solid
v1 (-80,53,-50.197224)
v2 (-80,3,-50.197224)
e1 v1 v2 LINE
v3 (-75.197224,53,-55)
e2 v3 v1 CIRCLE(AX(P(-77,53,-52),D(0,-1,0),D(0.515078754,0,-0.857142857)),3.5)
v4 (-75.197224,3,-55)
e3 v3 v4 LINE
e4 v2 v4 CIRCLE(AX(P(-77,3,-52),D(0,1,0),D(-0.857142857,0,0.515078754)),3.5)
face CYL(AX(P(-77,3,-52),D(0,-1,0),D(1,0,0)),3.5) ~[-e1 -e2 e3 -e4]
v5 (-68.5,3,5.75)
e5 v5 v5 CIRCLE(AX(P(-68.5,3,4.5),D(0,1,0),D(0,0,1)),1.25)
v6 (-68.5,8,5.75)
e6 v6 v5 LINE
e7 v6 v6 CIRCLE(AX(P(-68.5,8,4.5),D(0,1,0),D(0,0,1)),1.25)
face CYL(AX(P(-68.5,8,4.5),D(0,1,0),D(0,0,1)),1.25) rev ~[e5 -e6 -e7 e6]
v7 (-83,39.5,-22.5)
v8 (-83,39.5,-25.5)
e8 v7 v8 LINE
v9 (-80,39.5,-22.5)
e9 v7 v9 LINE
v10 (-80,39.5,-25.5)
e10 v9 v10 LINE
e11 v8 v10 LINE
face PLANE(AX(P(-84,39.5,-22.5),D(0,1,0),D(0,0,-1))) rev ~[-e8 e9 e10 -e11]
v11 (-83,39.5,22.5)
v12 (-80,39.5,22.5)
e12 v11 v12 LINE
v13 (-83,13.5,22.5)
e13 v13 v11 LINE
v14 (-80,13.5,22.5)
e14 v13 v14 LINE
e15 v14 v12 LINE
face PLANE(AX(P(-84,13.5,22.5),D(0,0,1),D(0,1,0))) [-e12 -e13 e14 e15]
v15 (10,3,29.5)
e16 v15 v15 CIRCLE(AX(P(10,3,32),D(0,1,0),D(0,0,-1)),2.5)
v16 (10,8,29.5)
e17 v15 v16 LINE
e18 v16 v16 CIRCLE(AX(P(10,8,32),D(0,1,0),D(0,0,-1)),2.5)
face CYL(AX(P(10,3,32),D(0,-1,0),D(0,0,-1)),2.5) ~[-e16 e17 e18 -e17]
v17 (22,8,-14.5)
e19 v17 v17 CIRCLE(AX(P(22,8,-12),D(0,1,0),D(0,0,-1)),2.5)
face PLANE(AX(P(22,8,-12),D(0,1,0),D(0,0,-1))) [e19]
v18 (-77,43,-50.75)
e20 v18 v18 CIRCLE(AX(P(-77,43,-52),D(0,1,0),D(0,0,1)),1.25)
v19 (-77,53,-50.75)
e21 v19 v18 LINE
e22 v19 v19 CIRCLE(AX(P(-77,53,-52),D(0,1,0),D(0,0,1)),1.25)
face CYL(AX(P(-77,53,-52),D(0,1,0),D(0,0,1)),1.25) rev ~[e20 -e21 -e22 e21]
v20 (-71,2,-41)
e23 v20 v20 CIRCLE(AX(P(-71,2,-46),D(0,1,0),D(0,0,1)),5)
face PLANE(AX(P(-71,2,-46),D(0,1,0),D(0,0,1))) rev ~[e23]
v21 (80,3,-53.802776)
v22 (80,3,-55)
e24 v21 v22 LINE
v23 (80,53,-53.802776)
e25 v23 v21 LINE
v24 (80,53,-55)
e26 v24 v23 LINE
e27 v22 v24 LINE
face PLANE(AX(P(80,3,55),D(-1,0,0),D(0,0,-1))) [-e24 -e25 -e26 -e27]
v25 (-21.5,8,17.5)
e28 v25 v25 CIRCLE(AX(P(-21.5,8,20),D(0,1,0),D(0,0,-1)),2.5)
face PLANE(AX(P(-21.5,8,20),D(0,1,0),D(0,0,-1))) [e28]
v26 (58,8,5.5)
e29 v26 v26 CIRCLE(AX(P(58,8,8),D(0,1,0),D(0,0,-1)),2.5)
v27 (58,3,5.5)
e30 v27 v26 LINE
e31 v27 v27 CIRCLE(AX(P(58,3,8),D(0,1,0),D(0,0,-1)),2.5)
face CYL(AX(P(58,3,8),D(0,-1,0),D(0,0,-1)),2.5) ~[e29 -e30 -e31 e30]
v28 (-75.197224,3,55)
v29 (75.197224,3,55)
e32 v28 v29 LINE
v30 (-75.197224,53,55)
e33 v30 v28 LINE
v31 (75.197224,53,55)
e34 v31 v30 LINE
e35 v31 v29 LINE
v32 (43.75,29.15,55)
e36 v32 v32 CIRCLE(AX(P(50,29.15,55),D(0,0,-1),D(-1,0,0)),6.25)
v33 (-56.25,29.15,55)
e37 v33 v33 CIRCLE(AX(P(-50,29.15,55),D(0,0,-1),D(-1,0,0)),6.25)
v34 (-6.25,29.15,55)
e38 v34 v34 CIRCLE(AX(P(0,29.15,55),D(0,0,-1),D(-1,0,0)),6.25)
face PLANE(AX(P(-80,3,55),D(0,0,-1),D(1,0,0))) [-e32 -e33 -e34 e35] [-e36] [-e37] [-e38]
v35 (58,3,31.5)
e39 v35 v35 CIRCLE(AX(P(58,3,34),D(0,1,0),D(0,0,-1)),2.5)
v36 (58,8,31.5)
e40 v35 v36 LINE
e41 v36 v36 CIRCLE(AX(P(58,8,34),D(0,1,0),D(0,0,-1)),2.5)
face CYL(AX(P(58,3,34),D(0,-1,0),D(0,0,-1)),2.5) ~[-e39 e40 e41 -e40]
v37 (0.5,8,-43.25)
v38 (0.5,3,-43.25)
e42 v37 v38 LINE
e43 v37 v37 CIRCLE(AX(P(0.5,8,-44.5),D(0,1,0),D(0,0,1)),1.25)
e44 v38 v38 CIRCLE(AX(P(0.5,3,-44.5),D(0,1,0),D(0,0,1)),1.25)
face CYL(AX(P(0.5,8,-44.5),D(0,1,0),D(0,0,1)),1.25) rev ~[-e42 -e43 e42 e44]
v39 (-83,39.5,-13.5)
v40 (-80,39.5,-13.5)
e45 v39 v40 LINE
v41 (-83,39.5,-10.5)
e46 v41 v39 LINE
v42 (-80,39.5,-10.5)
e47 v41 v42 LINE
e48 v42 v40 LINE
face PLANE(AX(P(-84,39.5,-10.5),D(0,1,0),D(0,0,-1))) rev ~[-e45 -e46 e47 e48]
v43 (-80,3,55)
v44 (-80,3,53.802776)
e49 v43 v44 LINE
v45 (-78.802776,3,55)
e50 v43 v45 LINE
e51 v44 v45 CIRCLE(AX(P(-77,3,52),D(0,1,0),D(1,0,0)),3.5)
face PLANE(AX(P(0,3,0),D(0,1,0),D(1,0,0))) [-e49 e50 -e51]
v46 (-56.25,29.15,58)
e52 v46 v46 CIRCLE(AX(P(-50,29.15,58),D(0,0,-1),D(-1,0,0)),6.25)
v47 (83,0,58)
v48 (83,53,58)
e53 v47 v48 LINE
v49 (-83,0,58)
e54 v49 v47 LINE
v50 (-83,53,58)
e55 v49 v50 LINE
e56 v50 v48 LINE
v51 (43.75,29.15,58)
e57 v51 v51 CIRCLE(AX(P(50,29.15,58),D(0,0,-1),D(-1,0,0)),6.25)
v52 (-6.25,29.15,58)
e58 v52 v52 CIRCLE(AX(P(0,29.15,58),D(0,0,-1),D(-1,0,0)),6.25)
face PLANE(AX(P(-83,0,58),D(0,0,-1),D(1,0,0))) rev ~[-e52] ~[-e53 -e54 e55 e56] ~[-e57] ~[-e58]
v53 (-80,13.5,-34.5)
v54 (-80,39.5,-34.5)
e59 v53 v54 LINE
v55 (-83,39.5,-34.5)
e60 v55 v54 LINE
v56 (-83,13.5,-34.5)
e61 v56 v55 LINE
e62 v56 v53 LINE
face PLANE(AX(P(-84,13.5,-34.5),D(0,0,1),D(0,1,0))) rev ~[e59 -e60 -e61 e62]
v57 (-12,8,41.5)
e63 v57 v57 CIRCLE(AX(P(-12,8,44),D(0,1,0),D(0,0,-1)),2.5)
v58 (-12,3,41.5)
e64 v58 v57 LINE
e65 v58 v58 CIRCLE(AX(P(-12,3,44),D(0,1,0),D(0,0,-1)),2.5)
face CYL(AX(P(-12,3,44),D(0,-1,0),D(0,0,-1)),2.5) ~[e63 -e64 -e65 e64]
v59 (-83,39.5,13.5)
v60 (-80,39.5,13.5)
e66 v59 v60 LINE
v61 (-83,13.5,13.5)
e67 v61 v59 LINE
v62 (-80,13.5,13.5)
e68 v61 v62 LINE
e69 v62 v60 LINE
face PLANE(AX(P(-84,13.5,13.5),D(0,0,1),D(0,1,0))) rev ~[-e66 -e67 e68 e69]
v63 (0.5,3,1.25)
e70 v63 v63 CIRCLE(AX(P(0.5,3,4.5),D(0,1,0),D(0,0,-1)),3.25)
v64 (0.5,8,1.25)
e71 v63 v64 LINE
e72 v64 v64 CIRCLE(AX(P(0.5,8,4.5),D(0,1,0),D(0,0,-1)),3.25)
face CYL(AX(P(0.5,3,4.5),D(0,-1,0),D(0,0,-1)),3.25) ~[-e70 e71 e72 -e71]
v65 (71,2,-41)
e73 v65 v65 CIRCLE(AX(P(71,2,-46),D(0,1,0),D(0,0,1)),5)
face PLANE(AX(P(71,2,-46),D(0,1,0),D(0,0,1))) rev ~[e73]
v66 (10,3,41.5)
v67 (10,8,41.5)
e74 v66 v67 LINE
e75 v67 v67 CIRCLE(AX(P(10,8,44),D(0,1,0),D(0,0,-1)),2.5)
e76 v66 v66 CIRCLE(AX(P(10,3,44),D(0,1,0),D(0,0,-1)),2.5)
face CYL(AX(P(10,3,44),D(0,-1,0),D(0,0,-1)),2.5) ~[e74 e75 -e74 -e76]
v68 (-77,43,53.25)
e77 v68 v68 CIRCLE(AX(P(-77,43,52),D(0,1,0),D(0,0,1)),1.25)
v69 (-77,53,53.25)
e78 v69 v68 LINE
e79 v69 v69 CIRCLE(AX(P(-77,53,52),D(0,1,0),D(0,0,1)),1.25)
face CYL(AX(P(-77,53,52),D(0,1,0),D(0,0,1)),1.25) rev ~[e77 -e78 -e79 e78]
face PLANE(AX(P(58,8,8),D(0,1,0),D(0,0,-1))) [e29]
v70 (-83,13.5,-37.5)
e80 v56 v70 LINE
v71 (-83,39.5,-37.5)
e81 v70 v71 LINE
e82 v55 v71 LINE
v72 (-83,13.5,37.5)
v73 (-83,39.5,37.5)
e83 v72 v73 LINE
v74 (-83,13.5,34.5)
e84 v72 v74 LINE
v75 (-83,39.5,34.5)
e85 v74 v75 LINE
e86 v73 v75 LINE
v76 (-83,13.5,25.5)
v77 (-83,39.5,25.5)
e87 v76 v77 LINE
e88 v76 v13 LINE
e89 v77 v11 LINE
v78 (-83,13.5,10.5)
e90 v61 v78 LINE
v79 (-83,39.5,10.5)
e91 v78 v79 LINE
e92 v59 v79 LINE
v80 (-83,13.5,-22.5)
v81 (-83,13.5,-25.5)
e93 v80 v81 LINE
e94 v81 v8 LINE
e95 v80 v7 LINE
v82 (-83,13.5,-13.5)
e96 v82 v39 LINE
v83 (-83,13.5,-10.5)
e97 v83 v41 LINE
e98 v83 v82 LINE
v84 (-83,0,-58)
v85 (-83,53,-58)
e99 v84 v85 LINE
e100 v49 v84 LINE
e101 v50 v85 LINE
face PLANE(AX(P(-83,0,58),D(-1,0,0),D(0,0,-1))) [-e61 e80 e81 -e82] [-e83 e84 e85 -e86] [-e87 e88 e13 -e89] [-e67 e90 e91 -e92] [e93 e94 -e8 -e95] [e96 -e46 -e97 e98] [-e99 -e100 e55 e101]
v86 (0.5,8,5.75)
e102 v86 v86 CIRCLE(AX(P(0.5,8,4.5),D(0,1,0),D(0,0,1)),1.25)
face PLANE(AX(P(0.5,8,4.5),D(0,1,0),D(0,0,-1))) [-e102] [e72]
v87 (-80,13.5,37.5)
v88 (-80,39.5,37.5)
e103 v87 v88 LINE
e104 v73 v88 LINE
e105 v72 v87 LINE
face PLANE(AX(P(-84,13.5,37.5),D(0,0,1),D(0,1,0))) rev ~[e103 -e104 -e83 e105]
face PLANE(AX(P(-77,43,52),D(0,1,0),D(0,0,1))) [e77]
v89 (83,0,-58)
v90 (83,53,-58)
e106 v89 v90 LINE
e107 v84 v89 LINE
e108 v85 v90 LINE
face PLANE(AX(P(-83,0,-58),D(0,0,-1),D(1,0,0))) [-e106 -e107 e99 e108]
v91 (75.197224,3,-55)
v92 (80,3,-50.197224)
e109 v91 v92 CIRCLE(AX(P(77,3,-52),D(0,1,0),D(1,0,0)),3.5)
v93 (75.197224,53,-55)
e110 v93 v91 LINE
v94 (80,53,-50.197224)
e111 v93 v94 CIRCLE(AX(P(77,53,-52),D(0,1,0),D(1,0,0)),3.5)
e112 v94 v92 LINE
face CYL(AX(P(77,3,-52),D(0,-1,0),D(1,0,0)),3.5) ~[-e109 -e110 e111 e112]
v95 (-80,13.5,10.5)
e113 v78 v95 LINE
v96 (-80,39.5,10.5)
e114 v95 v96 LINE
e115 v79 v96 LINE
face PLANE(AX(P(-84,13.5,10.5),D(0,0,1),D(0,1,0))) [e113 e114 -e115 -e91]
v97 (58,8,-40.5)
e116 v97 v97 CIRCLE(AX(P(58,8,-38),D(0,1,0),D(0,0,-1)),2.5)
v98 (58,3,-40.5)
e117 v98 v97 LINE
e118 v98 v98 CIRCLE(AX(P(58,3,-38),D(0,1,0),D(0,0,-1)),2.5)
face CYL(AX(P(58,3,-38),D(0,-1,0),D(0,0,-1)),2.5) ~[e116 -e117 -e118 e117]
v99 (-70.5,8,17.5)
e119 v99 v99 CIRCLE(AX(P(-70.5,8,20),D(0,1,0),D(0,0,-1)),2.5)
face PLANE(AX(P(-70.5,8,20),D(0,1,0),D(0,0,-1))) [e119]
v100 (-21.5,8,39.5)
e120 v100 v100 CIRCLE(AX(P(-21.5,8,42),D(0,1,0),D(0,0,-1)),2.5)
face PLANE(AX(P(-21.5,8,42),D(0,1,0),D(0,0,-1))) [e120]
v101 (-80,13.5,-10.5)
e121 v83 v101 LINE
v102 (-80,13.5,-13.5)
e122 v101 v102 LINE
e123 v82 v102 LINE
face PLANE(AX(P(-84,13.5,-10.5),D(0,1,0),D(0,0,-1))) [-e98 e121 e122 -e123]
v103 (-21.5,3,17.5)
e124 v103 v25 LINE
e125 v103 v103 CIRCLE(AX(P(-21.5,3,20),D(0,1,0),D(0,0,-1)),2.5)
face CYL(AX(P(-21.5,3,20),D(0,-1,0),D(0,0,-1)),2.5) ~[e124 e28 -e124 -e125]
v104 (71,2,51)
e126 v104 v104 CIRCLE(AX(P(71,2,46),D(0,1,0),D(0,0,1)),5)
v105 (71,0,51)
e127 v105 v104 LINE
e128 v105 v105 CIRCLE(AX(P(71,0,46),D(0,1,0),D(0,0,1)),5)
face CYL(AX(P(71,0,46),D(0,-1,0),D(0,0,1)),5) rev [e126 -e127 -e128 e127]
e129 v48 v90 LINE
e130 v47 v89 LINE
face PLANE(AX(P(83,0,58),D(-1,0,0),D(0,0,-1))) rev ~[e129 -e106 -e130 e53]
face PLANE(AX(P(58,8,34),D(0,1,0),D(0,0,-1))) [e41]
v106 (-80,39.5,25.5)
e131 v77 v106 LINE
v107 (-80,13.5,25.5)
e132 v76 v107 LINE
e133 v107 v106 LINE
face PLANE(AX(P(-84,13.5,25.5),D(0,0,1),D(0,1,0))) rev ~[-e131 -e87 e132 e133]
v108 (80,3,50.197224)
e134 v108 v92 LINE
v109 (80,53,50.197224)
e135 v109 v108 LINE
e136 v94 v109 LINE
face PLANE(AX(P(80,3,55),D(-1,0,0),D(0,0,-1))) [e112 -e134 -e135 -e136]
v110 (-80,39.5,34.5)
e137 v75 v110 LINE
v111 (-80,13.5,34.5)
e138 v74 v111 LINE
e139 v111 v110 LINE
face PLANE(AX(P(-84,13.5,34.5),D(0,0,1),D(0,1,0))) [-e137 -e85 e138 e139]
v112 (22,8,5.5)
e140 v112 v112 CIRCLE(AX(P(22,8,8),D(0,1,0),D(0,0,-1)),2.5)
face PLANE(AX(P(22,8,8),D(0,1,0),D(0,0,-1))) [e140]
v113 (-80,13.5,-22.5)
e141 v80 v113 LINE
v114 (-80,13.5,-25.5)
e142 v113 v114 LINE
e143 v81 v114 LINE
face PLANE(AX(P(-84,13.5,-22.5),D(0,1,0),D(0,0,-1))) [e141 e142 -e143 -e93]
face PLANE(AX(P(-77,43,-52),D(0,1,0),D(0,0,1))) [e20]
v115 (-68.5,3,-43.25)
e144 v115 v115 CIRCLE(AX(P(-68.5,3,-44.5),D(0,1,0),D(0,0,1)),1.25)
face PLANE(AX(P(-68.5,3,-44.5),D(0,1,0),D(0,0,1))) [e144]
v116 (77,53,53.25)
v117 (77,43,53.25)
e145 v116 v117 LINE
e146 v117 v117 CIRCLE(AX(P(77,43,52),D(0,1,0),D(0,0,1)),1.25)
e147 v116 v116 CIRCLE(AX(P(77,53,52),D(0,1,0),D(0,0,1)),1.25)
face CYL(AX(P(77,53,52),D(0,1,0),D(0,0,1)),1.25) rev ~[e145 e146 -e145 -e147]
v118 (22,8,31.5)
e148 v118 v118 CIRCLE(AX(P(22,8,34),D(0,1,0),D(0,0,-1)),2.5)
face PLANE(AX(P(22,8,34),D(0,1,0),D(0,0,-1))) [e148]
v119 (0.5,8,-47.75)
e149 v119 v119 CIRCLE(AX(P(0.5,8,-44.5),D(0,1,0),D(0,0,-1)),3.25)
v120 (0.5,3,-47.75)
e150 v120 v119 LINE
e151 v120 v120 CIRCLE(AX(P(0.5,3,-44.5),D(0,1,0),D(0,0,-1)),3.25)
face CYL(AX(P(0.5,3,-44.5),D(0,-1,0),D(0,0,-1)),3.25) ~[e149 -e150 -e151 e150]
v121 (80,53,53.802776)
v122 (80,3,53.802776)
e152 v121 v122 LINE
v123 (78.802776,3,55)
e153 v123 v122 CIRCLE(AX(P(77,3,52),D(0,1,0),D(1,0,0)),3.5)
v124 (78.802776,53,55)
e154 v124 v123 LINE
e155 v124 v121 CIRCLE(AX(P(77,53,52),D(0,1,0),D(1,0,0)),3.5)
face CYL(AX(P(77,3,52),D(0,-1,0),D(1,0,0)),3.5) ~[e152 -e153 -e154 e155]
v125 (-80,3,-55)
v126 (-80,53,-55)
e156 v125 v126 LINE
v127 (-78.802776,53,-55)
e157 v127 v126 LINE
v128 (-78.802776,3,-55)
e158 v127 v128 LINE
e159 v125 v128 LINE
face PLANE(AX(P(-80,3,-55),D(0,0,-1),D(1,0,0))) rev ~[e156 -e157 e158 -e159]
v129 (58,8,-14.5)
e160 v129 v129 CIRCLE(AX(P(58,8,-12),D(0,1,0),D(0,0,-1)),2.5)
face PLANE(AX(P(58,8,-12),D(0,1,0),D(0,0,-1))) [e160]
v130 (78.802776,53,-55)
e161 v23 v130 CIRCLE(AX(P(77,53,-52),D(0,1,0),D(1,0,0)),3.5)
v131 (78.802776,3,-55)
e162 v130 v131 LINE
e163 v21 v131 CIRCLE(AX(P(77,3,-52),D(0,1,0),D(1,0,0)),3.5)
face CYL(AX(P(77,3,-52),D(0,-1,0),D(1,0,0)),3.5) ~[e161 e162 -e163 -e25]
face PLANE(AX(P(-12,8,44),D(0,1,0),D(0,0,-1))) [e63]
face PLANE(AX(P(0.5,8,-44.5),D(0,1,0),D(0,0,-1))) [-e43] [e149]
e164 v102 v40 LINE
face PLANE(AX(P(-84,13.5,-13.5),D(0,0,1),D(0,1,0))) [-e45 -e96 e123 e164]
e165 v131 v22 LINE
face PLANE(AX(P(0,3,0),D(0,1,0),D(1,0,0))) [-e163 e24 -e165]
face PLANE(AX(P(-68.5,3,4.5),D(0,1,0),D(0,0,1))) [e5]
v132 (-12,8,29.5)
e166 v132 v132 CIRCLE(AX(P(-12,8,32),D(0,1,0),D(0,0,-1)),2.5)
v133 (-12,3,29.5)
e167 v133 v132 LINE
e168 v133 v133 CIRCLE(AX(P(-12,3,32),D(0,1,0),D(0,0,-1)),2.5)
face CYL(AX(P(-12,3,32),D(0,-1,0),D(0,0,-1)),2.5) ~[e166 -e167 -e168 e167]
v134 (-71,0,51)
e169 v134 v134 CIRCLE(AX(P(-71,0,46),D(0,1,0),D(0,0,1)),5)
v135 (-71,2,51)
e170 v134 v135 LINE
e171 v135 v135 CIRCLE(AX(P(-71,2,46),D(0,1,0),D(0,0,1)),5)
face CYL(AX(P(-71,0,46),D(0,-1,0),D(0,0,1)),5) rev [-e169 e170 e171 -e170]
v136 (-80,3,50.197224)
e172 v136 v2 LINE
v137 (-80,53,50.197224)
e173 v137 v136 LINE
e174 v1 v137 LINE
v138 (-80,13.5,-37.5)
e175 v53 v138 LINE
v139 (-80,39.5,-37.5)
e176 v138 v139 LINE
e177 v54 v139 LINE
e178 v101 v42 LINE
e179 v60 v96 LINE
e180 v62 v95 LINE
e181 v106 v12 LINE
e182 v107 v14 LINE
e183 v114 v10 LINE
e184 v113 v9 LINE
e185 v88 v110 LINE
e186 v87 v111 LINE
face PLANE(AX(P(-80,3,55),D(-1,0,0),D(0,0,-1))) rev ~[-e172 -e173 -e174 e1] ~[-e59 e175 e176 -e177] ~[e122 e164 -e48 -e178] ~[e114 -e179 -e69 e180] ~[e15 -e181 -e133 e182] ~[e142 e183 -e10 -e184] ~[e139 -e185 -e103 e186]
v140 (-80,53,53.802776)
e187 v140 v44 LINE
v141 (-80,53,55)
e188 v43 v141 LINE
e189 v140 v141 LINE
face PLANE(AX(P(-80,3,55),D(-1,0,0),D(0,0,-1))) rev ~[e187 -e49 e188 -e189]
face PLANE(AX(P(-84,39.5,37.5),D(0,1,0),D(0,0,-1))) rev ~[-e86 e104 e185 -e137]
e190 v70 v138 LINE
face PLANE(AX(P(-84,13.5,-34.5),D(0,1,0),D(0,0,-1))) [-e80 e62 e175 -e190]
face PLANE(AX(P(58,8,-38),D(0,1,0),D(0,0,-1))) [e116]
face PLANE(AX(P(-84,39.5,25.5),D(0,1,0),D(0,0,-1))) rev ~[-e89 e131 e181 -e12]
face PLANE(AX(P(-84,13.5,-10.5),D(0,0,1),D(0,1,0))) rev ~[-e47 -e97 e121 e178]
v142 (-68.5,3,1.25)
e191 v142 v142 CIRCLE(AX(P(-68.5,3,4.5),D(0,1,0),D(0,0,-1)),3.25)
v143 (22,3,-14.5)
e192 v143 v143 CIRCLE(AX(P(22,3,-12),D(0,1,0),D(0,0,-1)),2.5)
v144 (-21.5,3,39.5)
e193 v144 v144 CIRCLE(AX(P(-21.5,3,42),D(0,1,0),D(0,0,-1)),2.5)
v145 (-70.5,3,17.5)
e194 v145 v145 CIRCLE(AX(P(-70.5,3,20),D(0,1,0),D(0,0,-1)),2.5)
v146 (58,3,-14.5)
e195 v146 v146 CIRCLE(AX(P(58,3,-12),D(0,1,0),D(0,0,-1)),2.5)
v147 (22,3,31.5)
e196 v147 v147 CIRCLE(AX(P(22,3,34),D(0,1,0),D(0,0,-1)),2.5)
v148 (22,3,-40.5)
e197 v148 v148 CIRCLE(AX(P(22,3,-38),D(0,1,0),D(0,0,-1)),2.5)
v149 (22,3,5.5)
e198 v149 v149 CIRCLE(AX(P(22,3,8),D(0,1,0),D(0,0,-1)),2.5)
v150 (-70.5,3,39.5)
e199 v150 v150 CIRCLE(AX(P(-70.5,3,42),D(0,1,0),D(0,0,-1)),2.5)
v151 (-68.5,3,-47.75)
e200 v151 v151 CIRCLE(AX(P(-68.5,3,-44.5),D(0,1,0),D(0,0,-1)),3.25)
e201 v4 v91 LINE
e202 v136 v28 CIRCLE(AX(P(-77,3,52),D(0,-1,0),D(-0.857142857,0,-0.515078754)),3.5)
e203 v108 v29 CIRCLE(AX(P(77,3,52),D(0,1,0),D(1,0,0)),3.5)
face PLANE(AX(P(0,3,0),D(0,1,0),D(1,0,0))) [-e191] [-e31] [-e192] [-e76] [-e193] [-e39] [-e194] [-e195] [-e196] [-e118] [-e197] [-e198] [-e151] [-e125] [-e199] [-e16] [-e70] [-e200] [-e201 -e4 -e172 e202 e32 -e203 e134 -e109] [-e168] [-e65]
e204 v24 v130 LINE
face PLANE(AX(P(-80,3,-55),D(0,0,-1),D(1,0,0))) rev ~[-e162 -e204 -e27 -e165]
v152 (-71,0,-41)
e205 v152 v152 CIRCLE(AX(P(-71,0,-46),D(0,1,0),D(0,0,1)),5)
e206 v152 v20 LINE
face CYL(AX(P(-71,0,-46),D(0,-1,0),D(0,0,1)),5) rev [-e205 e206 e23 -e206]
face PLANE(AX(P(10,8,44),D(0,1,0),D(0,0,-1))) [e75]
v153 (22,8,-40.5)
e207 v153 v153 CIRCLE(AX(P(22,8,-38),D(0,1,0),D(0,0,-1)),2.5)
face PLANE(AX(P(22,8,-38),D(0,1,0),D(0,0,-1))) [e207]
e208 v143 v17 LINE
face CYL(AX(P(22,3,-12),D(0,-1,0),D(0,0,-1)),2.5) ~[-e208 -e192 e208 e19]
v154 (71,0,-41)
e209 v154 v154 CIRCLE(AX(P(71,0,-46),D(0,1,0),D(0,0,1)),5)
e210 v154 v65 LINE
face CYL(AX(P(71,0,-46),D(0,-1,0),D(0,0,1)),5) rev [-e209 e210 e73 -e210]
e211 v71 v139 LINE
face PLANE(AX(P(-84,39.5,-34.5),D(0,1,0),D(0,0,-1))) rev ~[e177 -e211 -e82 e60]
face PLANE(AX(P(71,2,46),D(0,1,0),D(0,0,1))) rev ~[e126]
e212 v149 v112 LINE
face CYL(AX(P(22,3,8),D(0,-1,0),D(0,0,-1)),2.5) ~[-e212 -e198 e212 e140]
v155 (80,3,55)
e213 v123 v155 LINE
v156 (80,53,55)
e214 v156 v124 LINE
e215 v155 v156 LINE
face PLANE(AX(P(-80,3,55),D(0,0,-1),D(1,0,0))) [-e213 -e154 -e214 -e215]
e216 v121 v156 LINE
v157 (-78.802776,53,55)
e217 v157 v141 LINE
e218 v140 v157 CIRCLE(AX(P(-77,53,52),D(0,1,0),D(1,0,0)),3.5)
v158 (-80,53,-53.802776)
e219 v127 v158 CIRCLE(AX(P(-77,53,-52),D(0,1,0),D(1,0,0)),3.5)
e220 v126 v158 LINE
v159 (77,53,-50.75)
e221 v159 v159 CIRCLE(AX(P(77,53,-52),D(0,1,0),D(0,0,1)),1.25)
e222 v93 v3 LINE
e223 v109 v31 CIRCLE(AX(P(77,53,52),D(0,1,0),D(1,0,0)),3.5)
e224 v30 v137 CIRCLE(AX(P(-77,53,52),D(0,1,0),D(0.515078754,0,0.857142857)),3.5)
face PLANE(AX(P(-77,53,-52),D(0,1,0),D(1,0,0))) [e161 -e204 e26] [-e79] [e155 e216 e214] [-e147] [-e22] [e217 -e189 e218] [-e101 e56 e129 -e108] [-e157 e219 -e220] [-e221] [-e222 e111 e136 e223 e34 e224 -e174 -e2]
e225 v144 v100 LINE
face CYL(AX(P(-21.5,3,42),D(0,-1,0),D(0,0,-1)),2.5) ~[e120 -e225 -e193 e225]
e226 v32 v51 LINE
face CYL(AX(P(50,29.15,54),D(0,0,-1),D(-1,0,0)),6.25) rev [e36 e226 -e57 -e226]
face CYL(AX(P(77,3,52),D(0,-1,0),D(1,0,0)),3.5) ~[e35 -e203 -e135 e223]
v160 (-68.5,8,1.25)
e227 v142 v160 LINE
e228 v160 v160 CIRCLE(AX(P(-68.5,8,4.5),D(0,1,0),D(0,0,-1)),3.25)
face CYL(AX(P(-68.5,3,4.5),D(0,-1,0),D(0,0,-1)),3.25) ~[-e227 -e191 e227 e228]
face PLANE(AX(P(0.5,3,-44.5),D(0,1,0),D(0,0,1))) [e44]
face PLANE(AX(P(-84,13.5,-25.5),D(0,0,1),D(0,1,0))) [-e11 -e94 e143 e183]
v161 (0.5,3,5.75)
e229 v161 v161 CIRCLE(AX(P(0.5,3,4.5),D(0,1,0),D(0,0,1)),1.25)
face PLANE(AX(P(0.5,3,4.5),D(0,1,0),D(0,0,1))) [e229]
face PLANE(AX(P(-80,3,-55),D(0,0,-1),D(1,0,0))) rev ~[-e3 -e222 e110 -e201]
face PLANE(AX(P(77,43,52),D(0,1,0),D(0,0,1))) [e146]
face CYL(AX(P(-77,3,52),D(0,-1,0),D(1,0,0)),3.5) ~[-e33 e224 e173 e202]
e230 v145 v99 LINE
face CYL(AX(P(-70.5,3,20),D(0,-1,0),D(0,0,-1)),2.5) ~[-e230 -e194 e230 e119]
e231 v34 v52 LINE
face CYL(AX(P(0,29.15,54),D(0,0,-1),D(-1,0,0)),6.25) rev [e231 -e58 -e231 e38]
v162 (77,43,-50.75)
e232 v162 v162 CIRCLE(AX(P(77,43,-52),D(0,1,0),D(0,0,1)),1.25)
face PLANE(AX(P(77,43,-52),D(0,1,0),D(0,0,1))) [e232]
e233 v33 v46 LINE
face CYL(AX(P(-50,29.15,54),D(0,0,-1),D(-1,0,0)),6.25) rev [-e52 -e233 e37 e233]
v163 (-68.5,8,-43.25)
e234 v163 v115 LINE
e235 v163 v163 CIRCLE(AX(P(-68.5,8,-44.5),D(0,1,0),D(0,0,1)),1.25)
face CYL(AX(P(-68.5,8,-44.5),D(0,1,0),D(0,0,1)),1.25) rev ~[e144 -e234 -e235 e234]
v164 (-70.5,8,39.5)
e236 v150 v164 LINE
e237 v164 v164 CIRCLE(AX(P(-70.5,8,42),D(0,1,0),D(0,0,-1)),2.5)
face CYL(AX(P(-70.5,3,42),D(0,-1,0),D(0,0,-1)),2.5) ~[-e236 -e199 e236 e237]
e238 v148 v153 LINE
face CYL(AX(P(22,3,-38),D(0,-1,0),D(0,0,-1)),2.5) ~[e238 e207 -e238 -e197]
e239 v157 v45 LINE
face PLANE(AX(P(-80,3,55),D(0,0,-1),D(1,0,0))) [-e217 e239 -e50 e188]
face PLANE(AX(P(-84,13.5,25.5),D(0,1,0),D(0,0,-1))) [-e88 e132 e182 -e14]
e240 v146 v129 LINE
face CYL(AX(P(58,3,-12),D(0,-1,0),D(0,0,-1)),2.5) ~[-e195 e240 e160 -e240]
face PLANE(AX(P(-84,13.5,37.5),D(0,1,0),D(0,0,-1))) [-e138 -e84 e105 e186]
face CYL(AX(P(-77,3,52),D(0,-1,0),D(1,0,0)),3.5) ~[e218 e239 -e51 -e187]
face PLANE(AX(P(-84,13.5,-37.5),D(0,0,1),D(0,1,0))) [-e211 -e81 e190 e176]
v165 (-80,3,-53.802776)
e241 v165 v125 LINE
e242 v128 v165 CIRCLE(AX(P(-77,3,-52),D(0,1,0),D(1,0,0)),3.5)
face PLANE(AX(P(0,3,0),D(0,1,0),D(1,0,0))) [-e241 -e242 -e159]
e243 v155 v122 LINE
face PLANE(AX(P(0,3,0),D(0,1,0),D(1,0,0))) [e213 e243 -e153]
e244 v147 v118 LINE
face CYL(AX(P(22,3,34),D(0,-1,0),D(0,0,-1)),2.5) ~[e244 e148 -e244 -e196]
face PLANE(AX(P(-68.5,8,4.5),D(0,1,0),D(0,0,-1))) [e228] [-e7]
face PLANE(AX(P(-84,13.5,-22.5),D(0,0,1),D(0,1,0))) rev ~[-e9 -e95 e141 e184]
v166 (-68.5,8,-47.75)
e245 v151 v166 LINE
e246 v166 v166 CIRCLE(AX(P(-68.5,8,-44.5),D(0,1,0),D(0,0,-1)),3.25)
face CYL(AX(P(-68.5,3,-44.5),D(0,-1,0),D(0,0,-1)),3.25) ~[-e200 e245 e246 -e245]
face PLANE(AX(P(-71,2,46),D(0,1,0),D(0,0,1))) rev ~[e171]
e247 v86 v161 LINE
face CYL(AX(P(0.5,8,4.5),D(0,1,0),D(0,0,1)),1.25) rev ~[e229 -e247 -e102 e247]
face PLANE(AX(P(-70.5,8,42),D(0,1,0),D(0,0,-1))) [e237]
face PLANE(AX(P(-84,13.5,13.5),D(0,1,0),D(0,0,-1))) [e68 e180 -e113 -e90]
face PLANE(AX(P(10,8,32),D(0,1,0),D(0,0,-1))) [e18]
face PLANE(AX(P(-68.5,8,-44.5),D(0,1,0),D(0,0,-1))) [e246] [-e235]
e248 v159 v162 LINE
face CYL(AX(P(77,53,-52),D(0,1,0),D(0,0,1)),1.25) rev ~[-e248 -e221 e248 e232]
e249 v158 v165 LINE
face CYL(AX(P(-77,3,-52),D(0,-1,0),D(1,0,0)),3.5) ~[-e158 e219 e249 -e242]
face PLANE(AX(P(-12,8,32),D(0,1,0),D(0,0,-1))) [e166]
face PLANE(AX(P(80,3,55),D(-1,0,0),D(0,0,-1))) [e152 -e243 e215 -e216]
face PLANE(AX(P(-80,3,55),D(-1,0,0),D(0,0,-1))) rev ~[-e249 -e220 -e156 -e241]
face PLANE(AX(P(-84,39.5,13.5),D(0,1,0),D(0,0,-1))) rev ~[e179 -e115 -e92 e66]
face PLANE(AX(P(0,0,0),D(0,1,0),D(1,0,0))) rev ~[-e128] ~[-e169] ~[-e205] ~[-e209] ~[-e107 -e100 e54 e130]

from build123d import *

# Parameters (mm, degrees)
SKETCH1_W               = 166
SKETCH1_H               = 116
BOX_SOLID_DEPTH         = 53
BOX_CAVITY_START        = 3
SKETCH2_W               = 160
SKETCH2_H               = 110
BOX_CAVITY_DEPTH        = 53
LID_SCREW_COLUMNS_START = 3
SKETCH3_R               = 3.5
LID_SCREW_COLUMNS_DEPTH = 50
LID_SCREW_HOLES_START   = 53
SKETCH4_R               = 1.25
LID_SCREW_HOLES_DEPTH   = 10
RELAY_BOSSES_START      = 3
SKETCH5_R               = 3.25
RELAY_BOSSES_DEPTH      = 5
RELAY_BOSS_HOLES_START  = 8
SKETCH6_R               = 1.25
RELAY_BOSS_HOLES_DEPTH  = 5
BOARD_PADS_START        = 3
SKETCH7_R               = 2.5
BOARD_PADS_DEPTH        = 5
CABLE_GLAND_HOLES_START = 54
SKETCH8_R               = 6.25
CABLE_GLAND_HOLES_DEPTH = 5
VENT_SLOTS_START        = -84
SKETCH9_W               = 3
SKETCH9_H               = 26
VENT_SLOTS_DEPTH        = 5
SKETCH10_R              = 5
LEG_SOCKETS_DEPTH       = 2


with BuildPart() as part:
    # Sketch1 → Box_Solid (new body)
    with BuildSketch(Plane(origin=(0, 0, 0), x_dir=(1, 0, 0), z_dir=(0, 1, 0))):
        Rectangle(SKETCH1_W, SKETCH1_H)
    extrude(amount=BOX_SOLID_DEPTH)

    # Sketch2 → Box_Cavity (cut)
    with BuildSketch(Plane(origin=(0, 0, 0), x_dir=(1, 0, 0), z_dir=(0, 1, 0)).offset(BOX_CAVITY_START)):
        Rectangle(SKETCH2_W, SKETCH2_H)
    extrude(amount=BOX_CAVITY_DEPTH, mode=Mode.SUBTRACT)

    # Sketch3 → Lid_Screw_Columns (add)
    with BuildSketch(Plane(origin=(0, 0, 0), x_dir=(1, 0, 0), z_dir=(0, 1, 0)).offset(LID_SCREW_COLUMNS_START)):
        with Locations((-77, 52)):
            Circle(SKETCH3_R)
        with Locations((-77, -52)):
            Circle(SKETCH3_R)
        with Locations((77, 52)):
            Circle(SKETCH3_R)
        with Locations((77, -52)):
            Circle(SKETCH3_R)
    extrude(amount=LID_SCREW_COLUMNS_DEPTH)

    # Sketch4 → Lid_Screw_Holes (cut)
    with BuildSketch(Plane(origin=(0, 0, 0), x_dir=(1, 0, 0), z_dir=(0, 1, 0)).offset(LID_SCREW_HOLES_START)):
        with Locations(Location((-77, 52, 0), (0, 0, 270))):
            Circle(SKETCH4_R)
        with Locations(Location((-77, -52, 0), (0, 0, 270))):
            Circle(SKETCH4_R)
        with Locations(Location((77, 52, 0), (0, 0, 270))):
            Circle(SKETCH4_R)
        with Locations(Location((77, -52, 0), (0, 0, 270))):
            Circle(SKETCH4_R)
    extrude(amount=-LID_SCREW_HOLES_DEPTH, mode=Mode.SUBTRACT)

    # Sketch5 → Relay_Bosses (add)
    with BuildSketch(Plane(origin=(0, 0, 0), x_dir=(1, 0, 0), z_dir=(0, 1, 0)).offset(RELAY_BOSSES_START)):
        with Locations(Location((-68.5, 44.5, 0), (0, 0, 90))):
            Circle(SKETCH5_R)
        with Locations(Location((-68.5, -4.5, 0), (0, 0, 90))):
            Circle(SKETCH5_R)
        with Locations(Location((0.5, 44.5, 0), (0, 0, 90))):
            Circle(SKETCH5_R)
        with Locations(Location((0.5, -4.5, 0), (0, 0, 90))):
            Circle(SKETCH5_R)
    extrude(amount=RELAY_BOSSES_DEPTH)

    # Sketch6 → Relay_Boss_Holes (cut)
    with BuildSketch(Plane(origin=(0, 0, 0), x_dir=(1, 0, 0), z_dir=(0, 1, 0)).offset(RELAY_BOSS_HOLES_START)):
        with Locations(Location((-68.5, 44.5, 0), (0, 0, 270))):
            Circle(SKETCH6_R)
        with Locations(Location((-68.5, -4.5, 0), (0, 0, 270))):
            Circle(SKETCH6_R)
        with Locations(Location((0.5, 44.5, 0), (0, 0, 270))):
            Circle(SKETCH6_R)
        with Locations(Location((0.5, -4.5, 0), (0, 0, 270))):
            Circle(SKETCH6_R)
    extrude(amount=-RELAY_BOSS_HOLES_DEPTH, mode=Mode.SUBTRACT)

    # Sketch7 → Board_Pads (add)
    with BuildSketch(Plane(origin=(0, 0, 0), x_dir=(1, 0, 0), z_dir=(0, 1, 0)).offset(BOARD_PADS_START)):
        with Locations(Location((-70.5, -20, 0), (0, 0, 90))):
            Circle(SKETCH7_R)
        with Locations(Location((-70.5, -42, 0), (0, 0, 90))):
            Circle(SKETCH7_R)
        with Locations(Location((-21.5, -20, 0), (0, 0, 90))):
            Circle(SKETCH7_R)
        with Locations(Location((-21.5, -42, 0), (0, 0, 90))):
            Circle(SKETCH7_R)
        with Locations(Location((-12, -32, 0), (0, 0, 90))):
            Circle(SKETCH7_R)
        with Locations(Location((-12, -44, 0), (0, 0, 90))):
            Circle(SKETCH7_R)
        with Locations(Location((10, -32, 0), (0, 0, 90))):
            Circle(SKETCH7_R)
        with Locations(Location((10, -44, 0), (0, 0, 90))):
            Circle(SKETCH7_R)
        with Locations(Location((22, 38, 0), (0, 0, 90))):
            Circle(SKETCH7_R)
        with Locations(Location((22, 12, 0), (0, 0, 90))):
            Circle(SKETCH7_R)
        with Locations(Location((58, 38, 0), (0, 0, 90))):
            Circle(SKETCH7_R)
        with Locations(Location((58, 12, 0), (0, 0, 90))):
            Circle(SKETCH7_R)
        with Locations(Location((22, -8, 0), (0, 0, 90))):
            Circle(SKETCH7_R)
        with Locations(Location((22, -34, 0), (0, 0, 90))):
            Circle(SKETCH7_R)
        with Locations(Location((58, -8, 0), (0, 0, 90))):
            Circle(SKETCH7_R)
        with Locations(Location((58, -34, 0), (0, 0, 90))):
            Circle(SKETCH7_R)
    extrude(amount=BOARD_PADS_DEPTH)

    # Sketch8 → Cable_Gland_Holes (cut)
    with BuildSketch(Plane.XY.offset(CABLE_GLAND_HOLES_START)):
        with Locations(Location((-50, 29.15, 0), (0, 0, 180))):
            Circle(SKETCH8_R)
        with Locations(Location((0, 29.15, 0), (0, 0, 180))):
            Circle(SKETCH8_R)
        with Locations(Location((50, 29.15, 0), (0, 0, 180))):
            Circle(SKETCH8_R)
    extrude(amount=CABLE_GLAND_HOLES_DEPTH, mode=Mode.SUBTRACT)

    # Sketch9 → Vent_Slots (cut)
    with BuildSketch(Plane(origin=(0, 0, 0), x_dir=(0, 0, -1), z_dir=(1, 0, 0)).offset(VENT_SLOTS_START)):
        with Locations((36, 26.5)):
            Rectangle(SKETCH9_W, SKETCH9_H)
        with Locations((24, 26.5)):
            Rectangle(SKETCH9_W, SKETCH9_H)
        with Locations((12, 26.5)):
            Rectangle(SKETCH9_W, SKETCH9_H)
        with Locations((-12, 26.5)):
            Rectangle(SKETCH9_W, SKETCH9_H)
        with Locations((-24, 26.5)):
            Rectangle(SKETCH9_W, SKETCH9_H)
        with Locations((-36, 26.5)):
            Rectangle(SKETCH9_W, SKETCH9_H)
    extrude(amount=VENT_SLOTS_DEPTH, mode=Mode.SUBTRACT)

    # Sketch10 → Leg_Sockets (cut)
    with BuildSketch(Plane(origin=(0, 0, 0), x_dir=(1, 0, 0), z_dir=(0, 1, 0))):
        with Locations(Location((-71, 46, 0), (0, 0, 270))):
            Circle(SKETCH10_R)
        with Locations(Location((-71, -46, 0), (0, 0, 270))):
            Circle(SKETCH10_R)
        with Locations(Location((71, 46, 0), (0, 0, 270))):
            Circle(SKETCH10_R)
        with Locations(Location((71, -46, 0), (0, 0, 270))):
            Circle(SKETCH10_R)
    extrude(amount=LEG_SOCKETS_DEPTH, mode=Mode.SUBTRACT)


solid = part.part
